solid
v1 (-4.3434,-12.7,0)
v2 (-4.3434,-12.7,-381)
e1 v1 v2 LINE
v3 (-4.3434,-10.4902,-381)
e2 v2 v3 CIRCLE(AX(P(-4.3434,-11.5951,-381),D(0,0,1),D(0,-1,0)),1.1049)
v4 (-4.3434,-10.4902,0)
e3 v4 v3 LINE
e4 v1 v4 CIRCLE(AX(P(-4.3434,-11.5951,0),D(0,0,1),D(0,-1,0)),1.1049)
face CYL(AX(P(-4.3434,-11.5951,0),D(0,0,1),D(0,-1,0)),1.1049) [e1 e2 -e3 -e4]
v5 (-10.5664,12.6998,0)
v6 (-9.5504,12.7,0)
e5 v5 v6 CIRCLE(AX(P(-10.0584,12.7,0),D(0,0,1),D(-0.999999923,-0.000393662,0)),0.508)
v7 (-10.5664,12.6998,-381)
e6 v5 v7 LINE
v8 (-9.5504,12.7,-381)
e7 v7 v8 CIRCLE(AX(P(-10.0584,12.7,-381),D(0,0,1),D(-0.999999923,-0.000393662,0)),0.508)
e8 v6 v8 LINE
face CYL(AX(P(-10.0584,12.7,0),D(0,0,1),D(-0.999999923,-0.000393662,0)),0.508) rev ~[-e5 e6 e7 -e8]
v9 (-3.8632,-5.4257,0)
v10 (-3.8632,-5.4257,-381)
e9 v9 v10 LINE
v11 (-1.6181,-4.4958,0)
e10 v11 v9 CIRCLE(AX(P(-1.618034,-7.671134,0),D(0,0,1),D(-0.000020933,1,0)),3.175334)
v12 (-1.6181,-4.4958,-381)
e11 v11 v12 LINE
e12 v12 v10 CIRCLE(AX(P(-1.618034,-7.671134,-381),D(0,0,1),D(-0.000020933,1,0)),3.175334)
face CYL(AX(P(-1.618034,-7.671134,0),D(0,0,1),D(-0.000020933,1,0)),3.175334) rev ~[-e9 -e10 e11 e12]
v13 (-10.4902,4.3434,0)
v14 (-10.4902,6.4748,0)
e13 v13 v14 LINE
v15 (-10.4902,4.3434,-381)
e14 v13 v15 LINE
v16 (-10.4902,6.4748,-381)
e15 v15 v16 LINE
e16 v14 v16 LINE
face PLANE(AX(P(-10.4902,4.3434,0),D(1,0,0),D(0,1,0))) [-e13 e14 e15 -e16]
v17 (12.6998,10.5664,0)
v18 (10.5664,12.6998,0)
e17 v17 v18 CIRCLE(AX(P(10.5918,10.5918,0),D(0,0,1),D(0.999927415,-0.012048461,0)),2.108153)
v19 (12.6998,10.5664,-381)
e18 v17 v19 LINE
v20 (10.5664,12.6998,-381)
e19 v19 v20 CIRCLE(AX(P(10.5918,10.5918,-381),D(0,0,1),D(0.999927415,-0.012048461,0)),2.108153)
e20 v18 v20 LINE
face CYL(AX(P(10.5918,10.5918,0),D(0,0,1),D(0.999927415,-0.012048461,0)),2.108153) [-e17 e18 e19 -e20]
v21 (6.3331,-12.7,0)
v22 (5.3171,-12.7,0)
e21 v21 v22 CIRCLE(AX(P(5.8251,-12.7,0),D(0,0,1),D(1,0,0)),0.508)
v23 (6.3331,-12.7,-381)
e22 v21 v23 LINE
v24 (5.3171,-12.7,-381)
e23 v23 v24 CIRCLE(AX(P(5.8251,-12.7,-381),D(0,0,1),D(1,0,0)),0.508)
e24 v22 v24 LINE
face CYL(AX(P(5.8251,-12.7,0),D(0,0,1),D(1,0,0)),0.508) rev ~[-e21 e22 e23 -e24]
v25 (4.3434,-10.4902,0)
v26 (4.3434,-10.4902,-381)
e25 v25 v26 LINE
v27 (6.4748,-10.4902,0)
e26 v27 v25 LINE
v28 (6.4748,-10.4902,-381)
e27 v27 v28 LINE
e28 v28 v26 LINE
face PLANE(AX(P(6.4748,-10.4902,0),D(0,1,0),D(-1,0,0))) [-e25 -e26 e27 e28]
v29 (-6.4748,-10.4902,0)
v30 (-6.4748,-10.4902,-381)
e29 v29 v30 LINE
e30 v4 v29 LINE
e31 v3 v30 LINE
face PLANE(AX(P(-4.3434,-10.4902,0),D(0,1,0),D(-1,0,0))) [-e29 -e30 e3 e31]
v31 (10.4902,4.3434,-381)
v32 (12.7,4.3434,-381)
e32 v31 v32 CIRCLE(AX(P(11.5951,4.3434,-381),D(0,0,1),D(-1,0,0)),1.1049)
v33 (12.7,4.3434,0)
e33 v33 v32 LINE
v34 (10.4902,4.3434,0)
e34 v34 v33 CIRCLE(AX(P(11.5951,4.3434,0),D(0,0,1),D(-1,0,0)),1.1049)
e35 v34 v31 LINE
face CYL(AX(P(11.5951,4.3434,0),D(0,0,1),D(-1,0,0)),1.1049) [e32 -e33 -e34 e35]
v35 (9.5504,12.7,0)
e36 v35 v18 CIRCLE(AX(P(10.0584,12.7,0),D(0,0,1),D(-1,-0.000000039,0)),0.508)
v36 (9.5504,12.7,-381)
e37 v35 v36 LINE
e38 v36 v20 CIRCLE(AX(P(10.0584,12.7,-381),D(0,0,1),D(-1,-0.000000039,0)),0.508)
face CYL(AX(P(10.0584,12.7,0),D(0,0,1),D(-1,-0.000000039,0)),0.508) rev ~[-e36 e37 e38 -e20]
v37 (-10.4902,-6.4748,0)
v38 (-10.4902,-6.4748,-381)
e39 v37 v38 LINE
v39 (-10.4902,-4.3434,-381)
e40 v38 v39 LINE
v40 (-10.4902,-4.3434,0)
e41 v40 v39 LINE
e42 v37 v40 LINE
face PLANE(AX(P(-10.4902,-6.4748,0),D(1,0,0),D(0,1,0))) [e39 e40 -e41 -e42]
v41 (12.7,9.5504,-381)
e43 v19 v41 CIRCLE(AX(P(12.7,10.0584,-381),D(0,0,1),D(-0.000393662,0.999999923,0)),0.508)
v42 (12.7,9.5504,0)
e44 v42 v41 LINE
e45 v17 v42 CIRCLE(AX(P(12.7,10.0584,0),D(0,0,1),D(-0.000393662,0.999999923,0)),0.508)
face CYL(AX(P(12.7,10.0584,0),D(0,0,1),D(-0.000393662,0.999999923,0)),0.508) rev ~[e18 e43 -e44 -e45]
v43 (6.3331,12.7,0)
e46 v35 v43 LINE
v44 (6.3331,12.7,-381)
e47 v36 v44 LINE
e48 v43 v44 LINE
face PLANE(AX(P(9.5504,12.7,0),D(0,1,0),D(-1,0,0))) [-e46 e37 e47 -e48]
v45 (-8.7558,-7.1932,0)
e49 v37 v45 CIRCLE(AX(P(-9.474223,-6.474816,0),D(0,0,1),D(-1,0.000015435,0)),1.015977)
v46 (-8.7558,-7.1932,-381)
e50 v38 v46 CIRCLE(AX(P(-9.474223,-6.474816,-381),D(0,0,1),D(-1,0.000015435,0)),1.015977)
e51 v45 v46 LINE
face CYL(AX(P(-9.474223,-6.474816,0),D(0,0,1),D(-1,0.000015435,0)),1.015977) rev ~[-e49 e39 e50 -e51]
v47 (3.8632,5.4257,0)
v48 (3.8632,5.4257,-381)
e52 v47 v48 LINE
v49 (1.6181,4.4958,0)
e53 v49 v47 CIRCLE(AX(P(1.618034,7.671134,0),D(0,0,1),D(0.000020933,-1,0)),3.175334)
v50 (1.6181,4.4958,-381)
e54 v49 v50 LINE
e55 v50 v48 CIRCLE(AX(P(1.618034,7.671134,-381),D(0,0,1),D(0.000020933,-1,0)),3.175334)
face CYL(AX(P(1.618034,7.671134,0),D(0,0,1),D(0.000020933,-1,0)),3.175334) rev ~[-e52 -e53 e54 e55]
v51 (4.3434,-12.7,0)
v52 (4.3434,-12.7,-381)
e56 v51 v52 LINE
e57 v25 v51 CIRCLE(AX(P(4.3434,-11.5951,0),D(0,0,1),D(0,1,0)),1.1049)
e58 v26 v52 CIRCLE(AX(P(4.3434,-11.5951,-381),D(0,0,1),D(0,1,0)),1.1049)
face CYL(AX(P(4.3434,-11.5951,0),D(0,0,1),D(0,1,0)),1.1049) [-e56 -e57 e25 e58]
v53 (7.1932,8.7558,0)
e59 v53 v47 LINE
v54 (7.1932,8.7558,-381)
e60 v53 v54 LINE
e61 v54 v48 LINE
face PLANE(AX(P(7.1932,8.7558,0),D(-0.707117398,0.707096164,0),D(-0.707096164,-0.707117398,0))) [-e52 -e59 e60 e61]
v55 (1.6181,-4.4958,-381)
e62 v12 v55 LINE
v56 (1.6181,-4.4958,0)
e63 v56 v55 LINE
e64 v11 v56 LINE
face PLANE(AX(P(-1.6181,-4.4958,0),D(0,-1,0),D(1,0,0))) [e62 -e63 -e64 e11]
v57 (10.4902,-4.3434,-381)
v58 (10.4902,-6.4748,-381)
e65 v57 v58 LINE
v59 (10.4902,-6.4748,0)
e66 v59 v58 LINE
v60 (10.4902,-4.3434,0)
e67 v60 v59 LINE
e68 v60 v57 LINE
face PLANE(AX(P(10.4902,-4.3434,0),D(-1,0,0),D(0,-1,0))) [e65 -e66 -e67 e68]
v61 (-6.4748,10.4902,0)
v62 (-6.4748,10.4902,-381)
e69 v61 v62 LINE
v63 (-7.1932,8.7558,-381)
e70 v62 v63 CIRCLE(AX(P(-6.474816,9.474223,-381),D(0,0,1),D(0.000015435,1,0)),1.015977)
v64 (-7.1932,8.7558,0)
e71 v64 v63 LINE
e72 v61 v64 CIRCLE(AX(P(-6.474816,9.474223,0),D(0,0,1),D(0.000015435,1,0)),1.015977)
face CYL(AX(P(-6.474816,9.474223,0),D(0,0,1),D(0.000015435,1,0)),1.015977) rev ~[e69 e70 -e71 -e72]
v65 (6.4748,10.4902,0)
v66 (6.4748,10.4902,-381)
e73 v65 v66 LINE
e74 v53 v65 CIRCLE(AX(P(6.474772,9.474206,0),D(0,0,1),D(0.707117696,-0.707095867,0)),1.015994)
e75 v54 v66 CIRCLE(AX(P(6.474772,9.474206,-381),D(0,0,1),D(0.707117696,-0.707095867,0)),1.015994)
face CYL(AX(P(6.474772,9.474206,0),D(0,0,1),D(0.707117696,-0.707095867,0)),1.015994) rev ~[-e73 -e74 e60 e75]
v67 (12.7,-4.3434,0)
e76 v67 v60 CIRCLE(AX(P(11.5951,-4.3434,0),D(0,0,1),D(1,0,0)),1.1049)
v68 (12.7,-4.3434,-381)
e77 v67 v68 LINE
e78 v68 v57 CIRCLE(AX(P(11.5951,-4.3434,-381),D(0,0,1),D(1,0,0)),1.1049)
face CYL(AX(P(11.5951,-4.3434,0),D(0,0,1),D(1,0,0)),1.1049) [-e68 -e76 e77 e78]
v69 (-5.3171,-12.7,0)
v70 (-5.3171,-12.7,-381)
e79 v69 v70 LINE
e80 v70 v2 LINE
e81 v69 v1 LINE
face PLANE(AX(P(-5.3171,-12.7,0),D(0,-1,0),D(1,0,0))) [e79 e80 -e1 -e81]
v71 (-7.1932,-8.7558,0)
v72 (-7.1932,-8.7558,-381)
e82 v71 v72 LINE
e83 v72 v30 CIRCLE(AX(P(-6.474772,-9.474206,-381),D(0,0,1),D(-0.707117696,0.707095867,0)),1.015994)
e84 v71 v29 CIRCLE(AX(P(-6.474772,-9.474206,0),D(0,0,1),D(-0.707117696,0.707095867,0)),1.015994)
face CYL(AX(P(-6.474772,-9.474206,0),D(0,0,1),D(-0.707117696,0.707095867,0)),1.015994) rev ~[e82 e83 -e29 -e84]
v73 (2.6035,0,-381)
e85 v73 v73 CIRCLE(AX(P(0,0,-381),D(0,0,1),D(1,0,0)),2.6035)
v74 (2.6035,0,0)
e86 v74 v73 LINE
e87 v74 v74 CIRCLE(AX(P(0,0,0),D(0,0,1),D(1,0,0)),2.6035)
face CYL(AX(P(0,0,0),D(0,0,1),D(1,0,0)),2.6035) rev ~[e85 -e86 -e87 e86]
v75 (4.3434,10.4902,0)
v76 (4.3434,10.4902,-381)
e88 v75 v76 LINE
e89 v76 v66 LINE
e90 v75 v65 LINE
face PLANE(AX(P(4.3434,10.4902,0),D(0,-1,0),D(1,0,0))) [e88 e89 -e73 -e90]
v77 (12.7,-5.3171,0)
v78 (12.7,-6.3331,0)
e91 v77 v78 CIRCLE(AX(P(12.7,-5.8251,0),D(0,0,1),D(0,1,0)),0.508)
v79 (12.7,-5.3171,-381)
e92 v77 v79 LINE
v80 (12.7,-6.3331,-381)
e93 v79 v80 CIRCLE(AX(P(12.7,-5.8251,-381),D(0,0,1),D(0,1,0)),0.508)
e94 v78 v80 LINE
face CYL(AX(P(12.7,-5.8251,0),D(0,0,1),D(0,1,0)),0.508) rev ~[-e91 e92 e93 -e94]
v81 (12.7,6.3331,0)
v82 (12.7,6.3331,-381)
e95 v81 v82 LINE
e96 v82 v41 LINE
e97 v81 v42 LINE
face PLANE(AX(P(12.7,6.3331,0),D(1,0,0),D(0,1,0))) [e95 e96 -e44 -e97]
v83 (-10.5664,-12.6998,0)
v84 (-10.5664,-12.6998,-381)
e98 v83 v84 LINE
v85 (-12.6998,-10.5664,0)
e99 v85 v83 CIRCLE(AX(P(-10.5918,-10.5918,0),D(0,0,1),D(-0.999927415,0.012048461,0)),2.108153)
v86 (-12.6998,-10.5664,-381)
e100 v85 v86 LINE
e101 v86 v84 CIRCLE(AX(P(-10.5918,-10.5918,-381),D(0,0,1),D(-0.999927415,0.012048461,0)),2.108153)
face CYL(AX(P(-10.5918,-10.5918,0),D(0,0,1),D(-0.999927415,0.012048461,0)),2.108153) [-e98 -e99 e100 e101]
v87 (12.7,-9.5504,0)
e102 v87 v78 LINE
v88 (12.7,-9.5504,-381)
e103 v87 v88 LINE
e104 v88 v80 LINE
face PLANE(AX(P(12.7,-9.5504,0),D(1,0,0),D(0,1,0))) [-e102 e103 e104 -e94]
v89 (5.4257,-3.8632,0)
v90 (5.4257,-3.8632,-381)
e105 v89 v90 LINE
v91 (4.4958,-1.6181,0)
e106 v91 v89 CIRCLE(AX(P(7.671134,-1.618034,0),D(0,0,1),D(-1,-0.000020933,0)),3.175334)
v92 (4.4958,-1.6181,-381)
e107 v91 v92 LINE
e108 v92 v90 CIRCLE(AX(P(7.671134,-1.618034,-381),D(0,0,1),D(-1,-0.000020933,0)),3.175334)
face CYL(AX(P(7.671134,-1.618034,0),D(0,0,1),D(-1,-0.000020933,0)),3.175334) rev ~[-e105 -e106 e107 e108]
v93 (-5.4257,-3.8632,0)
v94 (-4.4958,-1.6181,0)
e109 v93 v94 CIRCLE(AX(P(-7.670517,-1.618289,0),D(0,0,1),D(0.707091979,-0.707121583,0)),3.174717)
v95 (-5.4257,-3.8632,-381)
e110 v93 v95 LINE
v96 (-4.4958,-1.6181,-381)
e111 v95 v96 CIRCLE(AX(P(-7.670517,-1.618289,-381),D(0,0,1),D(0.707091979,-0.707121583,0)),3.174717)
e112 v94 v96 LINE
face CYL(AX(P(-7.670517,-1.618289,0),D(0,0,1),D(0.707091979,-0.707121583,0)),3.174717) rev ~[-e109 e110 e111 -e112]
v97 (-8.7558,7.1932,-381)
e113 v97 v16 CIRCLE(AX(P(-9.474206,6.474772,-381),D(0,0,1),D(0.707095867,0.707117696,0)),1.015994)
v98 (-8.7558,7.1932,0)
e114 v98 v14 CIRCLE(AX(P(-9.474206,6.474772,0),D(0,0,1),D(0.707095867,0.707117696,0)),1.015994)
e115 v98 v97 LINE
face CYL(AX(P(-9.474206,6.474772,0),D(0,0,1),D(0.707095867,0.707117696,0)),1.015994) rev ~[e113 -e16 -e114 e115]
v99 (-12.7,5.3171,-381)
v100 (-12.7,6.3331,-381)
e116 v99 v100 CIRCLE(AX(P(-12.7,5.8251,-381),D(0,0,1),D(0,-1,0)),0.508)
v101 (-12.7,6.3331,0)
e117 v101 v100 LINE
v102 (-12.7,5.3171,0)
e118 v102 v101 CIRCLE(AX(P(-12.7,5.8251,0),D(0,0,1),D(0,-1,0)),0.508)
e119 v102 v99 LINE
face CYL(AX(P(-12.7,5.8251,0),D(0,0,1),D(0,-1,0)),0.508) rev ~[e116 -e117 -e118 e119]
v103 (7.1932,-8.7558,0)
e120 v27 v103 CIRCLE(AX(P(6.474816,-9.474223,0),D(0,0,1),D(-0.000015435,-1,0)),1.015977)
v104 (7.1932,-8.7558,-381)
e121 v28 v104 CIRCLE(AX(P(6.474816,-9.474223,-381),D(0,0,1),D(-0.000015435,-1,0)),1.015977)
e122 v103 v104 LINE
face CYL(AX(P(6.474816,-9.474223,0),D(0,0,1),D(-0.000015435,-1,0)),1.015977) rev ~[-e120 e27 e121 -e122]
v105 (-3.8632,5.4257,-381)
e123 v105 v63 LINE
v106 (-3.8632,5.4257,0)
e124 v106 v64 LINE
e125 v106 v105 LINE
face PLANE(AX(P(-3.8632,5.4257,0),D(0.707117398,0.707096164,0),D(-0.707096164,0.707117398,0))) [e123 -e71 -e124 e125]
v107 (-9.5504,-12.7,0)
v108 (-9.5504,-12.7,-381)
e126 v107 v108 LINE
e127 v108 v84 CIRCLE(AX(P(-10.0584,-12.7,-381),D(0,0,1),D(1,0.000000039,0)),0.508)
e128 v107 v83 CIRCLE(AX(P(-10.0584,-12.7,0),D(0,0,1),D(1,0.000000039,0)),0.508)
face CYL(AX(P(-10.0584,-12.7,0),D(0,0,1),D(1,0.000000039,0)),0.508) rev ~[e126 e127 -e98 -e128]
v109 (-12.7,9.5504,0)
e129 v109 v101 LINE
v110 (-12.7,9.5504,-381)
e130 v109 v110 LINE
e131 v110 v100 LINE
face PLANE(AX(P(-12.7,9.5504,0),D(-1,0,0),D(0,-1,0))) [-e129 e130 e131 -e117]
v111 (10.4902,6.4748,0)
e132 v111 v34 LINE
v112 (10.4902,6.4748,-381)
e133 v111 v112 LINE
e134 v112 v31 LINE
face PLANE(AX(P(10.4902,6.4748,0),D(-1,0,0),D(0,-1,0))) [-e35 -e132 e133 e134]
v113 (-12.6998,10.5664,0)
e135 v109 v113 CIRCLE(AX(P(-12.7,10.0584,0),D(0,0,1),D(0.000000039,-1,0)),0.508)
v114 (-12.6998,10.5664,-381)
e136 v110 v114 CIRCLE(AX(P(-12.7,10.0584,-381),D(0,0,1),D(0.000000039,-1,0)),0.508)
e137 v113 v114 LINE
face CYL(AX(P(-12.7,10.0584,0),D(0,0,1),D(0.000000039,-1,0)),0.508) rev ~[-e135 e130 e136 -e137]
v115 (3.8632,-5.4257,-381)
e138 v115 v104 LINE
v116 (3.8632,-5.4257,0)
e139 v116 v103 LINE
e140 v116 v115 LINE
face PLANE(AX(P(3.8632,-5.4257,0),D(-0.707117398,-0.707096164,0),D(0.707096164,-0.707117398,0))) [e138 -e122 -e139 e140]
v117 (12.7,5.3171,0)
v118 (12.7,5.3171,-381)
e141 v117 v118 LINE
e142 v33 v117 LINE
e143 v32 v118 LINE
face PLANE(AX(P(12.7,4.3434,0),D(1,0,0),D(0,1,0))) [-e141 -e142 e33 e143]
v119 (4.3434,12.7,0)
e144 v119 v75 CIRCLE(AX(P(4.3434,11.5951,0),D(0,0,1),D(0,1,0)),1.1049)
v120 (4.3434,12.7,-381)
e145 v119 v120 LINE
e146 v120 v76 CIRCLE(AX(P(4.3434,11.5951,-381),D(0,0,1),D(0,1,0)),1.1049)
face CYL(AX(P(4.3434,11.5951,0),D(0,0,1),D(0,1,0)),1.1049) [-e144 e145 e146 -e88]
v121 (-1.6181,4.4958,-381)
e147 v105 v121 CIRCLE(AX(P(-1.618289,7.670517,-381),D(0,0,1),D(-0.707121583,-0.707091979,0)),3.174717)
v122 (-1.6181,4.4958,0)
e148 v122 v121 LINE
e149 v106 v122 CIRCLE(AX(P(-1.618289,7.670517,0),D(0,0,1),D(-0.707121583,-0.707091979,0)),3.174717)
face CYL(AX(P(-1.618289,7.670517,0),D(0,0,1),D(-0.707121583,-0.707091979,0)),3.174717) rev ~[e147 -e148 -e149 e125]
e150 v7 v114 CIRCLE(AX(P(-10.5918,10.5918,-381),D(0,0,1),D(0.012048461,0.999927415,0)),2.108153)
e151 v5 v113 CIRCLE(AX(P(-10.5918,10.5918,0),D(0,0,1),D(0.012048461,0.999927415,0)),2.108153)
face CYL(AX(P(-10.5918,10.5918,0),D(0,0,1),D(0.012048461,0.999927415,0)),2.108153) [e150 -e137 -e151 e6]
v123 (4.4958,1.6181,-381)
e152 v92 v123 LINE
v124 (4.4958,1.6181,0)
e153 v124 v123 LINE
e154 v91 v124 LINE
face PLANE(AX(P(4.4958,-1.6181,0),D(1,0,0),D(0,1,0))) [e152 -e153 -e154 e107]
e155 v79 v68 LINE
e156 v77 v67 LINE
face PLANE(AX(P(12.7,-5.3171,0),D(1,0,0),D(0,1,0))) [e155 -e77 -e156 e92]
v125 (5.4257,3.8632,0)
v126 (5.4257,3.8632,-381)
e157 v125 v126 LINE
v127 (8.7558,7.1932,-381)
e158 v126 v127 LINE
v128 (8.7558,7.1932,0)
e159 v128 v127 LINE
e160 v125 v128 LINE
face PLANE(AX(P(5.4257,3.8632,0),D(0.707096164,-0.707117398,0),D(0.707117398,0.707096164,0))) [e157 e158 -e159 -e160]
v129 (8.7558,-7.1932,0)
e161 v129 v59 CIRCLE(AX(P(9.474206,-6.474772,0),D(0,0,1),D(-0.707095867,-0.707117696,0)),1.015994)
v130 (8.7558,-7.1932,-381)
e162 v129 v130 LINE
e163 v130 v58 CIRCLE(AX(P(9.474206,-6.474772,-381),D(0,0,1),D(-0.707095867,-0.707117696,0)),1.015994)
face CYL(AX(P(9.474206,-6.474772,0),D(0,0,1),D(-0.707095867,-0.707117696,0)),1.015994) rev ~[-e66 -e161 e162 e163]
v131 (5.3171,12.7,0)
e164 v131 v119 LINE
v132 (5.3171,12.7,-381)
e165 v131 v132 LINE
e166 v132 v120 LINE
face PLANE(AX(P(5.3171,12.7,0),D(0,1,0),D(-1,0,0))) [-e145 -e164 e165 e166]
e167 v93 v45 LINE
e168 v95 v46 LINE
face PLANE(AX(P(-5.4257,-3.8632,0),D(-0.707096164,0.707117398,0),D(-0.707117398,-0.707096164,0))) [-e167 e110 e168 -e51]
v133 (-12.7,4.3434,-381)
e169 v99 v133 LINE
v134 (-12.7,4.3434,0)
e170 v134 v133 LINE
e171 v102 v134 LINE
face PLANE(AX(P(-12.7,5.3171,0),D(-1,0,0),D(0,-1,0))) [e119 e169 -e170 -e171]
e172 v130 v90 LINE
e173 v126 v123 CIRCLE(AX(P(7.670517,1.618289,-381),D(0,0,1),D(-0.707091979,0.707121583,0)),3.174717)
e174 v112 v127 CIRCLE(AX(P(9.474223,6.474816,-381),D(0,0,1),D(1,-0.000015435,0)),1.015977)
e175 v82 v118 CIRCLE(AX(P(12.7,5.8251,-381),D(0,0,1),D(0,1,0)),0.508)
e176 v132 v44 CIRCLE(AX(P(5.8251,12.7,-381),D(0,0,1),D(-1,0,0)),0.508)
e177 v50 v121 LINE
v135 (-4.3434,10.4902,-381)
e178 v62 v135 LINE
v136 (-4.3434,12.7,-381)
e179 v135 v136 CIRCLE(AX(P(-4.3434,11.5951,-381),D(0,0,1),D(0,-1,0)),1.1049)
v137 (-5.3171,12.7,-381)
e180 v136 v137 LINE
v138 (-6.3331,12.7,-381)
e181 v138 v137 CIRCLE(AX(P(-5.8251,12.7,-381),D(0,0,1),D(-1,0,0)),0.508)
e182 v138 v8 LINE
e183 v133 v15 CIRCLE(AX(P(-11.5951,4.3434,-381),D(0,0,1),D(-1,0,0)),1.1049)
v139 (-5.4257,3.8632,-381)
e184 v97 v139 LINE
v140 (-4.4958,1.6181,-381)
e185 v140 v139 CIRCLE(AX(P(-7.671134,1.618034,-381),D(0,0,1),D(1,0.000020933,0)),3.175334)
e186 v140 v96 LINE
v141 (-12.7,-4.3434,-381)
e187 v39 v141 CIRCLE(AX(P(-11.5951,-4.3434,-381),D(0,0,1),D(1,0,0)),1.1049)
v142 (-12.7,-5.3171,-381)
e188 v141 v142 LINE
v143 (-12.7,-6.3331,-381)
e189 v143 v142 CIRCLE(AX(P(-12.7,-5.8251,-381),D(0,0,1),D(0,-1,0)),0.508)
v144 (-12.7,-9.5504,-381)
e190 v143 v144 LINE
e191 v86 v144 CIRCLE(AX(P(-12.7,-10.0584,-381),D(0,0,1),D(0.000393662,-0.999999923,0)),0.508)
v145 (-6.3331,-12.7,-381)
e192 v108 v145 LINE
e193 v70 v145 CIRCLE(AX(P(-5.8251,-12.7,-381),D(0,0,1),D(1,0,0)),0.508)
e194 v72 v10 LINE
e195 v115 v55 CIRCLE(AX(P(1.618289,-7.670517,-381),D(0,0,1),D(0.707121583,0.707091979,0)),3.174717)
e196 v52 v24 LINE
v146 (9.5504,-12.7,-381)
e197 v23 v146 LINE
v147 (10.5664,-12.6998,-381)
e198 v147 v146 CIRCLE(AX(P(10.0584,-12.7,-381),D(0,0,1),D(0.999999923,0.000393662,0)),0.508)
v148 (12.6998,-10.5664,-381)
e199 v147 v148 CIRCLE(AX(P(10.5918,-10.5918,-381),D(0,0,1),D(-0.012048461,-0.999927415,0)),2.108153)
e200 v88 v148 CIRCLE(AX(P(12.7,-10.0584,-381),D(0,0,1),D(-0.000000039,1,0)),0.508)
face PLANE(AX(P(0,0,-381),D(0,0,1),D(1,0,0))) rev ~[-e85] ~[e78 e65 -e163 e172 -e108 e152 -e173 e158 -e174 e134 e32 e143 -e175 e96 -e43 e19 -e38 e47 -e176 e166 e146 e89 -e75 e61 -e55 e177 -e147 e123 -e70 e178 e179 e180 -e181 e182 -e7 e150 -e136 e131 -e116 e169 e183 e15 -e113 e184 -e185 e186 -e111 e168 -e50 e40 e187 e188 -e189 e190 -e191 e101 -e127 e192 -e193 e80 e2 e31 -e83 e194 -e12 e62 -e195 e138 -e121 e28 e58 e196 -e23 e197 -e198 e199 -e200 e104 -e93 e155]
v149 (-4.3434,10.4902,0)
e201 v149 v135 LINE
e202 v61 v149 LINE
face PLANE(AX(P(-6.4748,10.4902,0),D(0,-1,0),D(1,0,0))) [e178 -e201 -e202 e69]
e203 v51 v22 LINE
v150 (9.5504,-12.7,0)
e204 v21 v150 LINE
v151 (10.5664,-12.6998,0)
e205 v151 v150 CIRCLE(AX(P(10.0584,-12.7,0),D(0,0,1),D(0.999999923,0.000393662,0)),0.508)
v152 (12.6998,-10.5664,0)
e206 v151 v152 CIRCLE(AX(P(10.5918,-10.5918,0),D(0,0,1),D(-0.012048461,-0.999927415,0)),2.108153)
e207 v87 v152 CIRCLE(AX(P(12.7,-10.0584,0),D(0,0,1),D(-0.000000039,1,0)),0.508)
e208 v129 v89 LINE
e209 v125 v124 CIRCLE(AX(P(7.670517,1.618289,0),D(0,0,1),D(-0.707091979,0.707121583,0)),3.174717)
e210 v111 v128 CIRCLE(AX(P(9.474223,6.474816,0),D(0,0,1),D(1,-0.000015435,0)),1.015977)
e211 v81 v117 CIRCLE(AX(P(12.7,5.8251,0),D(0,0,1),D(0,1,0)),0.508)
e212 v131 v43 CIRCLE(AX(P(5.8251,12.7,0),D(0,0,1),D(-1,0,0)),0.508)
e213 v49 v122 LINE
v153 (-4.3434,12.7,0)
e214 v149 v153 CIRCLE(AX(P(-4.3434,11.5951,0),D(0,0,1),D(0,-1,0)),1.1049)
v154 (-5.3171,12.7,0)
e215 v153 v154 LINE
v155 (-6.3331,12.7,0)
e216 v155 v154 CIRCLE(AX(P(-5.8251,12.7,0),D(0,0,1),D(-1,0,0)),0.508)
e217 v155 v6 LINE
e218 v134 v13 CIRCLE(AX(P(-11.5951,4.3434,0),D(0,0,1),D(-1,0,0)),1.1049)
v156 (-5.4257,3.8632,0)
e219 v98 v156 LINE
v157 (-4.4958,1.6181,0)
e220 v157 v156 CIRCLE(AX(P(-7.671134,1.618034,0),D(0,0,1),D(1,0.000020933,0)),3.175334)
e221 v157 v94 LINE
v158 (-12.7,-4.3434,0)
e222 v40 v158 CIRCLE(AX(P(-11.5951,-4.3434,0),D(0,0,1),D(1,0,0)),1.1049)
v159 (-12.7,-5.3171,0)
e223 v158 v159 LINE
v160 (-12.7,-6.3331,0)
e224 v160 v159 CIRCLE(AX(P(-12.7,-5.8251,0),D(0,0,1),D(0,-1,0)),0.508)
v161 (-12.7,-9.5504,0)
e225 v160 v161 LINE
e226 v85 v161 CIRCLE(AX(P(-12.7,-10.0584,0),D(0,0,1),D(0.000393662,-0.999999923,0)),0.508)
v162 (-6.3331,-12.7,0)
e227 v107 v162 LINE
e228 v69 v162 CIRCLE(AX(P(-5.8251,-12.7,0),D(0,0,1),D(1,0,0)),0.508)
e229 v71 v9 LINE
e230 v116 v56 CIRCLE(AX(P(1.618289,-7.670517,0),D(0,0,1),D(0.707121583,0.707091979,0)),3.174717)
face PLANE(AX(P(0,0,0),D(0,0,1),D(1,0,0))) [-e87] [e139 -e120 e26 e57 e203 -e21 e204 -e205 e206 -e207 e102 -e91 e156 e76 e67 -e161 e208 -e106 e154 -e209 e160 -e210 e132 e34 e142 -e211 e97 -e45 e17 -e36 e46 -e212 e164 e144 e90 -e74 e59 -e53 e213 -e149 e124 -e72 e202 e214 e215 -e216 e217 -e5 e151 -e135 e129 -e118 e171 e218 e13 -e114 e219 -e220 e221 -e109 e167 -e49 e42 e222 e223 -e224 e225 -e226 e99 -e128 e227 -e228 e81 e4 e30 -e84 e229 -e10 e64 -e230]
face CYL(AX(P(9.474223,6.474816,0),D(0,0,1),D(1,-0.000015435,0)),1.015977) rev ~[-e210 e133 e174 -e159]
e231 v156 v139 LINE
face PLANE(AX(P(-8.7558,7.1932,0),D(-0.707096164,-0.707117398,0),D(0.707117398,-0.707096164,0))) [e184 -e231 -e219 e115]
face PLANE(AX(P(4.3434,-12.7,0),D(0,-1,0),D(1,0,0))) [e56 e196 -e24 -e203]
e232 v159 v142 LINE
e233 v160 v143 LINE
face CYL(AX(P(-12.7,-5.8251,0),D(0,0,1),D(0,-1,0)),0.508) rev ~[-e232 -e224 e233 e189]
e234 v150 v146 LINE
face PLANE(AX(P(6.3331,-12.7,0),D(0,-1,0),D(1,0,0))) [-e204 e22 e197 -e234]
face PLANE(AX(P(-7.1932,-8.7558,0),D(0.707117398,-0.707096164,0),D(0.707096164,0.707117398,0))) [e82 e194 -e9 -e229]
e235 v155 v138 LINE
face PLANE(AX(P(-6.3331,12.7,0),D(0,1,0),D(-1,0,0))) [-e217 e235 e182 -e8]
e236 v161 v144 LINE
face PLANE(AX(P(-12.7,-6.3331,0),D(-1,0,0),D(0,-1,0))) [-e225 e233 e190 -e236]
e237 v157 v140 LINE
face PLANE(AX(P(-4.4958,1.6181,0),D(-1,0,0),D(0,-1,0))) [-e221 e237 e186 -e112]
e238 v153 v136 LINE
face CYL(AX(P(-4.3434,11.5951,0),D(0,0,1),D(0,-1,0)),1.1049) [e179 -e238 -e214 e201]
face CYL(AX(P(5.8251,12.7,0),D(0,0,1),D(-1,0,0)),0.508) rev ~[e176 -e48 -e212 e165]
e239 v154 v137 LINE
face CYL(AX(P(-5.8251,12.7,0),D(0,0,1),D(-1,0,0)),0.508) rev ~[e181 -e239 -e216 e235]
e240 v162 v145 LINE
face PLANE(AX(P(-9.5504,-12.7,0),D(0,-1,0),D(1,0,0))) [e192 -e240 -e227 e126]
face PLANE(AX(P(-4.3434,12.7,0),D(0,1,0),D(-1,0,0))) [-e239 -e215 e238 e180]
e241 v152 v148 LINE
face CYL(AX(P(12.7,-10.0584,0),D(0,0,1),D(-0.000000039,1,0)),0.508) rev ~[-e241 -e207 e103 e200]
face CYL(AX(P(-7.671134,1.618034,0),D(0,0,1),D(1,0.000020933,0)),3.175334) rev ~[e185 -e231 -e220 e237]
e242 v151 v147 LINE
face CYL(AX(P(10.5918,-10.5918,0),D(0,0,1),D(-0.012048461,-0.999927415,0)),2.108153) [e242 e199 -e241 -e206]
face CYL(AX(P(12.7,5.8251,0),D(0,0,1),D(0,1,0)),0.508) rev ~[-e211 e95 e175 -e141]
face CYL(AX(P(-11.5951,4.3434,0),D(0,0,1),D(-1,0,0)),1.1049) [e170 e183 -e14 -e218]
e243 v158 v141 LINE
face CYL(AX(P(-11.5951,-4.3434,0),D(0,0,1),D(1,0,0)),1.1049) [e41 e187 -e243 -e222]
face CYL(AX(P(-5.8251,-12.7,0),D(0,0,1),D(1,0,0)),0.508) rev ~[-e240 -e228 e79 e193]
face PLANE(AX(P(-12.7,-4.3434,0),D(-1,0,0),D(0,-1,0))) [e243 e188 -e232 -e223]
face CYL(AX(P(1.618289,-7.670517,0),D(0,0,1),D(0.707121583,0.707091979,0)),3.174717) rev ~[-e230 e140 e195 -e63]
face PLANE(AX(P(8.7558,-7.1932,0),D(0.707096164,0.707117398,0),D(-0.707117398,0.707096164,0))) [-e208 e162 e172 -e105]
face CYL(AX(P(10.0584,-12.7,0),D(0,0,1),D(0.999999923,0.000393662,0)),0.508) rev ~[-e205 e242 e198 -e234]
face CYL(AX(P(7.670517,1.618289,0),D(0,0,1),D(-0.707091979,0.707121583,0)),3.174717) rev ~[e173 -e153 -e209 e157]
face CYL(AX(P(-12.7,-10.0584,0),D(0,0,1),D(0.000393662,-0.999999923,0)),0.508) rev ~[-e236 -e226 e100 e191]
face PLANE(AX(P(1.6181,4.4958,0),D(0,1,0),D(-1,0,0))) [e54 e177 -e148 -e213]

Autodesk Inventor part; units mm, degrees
sketch "Sketch_1" plane through (0, 0, 0) normal (0, 0, 1) x (1, 0, 0)
  arc A0 (-12.6998, -10.5664) -> (-10.5664, -12.6998) centre (-10.5918, -10.5918) ccw
  arc A1 (-9.5504, -12.7) -> (-10.5664, -12.6998) centre (-10.0584, -12.7) ccw
  line L0 (-9.5504, -12.7) -> (-6.3331, -12.7)
  arc A2 (-5.3171, -12.7) -> (-6.3331, -12.7) centre (-5.8251, -12.7) ccw
  line L1 (-5.3171, -12.7) -> (-4.3434, -12.7)
  arc A3 (-4.3434, -12.7) -> (-4.3434, -10.4902) centre (-4.3434, -11.5951) ccw
  line L2 (-4.3434, -10.4902) -> (-6.4748, -10.4902)
  arc A4 (-7.1932, -8.7558) -> (-6.4748, -10.4902) centre (-6.4748, -9.4742) ccw
  line L3 (-7.1932, -8.7558) -> (-3.8632, -5.4257)
  arc A5 (-1.6181, -4.4958) -> (-3.8632, -5.4257) centre (-1.6181, -7.6708) ccw
  line L4 (-1.6181, -4.4958) -> (1.6181, -4.4958)
  arc A6 (3.8632, -5.4257) -> (1.6181, -4.4958) centre (1.6181, -7.6708) ccw
  line L5 (3.8632, -5.4257) -> (7.1932, -8.7558)
  arc A7 (6.4748, -10.4902) -> (7.1932, -8.7558) centre (6.4748, -9.4742) ccw
  line L6 (6.4748, -10.4902) -> (4.3434, -10.4902)
  arc A8 (4.3434, -10.4902) -> (4.3434, -12.7) centre (4.3434, -11.5951) ccw
  line L7 (4.3434, -12.7) -> (5.3171, -12.7)
  arc A9 (6.3331, -12.7) -> (5.3171, -12.7) centre (5.8251, -12.7) ccw
  line L8 (6.3331, -12.7) -> (9.5504, -12.7)
  arc A10 (10.5664, -12.6998) -> (9.5504, -12.7) centre (10.0584, -12.7) ccw
  arc A11 (10.5664, -12.6998) -> (12.6998, -10.5664) centre (10.5918, -10.5918) ccw
  arc A12 (12.7, -9.5504) -> (12.6998, -10.5664) centre (12.7, -10.0584) ccw
  line L9 (12.7, -9.5504) -> (12.7, -6.3331)
  arc A13 (12.7, -5.3171) -> (12.7, -6.3331) centre (12.7, -5.8251) ccw
  line L10 (12.7, -5.3171) -> (12.7, -4.3434)
  arc A14 (12.7, -4.3434) -> (10.4902, -4.3434) centre (11.5951, -4.3434) ccw
  line L11 (10.4902, -4.3434) -> (10.4902, -6.4748)
  arc A15 (8.7558, -7.1932) -> (10.4902, -6.4748) centre (9.4742, -6.4748) ccw
  line L12 (8.7558, -7.1932) -> (5.4257, -3.8632)
  arc A16 (4.4958, -1.6181) -> (5.4257, -3.8632) centre (7.6708, -1.6181) ccw
  line L13 (4.4958, -1.6181) -> (4.4958, 1.6181)
  arc A17 (5.4257, 3.8632) -> (4.4958, 1.6181) centre (7.6708, 1.6181) ccw
  line L14 (5.4257, 3.8632) -> (8.7558, 7.1932)
  arc A18 (10.4902, 6.4748) -> (8.7558, 7.1932) centre (9.4742, 6.4748) ccw
  line L15 (10.4902, 6.4748) -> (10.4902, 4.3434)
  arc A19 (10.4902, 4.3434) -> (12.7, 4.3434) centre (11.5951, 4.3434) ccw
  line L16 (12.7, 4.3434) -> (12.7, 5.3171)
  arc A20 (12.7, 6.3331) -> (12.7, 5.3171) centre (12.7, 5.8251) ccw
  line L17 (12.7, 6.3331) -> (12.7, 9.5504)
  arc A21 (12.6998, 10.5664) -> (12.7, 9.5504) centre (12.7, 10.0584) ccw
  arc A22 (12.6998, 10.5664) -> (10.5664, 12.6998) centre (10.5918, 10.5918) ccw
  arc A23 (9.5504, 12.7) -> (10.5664, 12.6998) centre (10.0584, 12.7) ccw
  line L18 (9.5504, 12.7) -> (6.3331, 12.7)
  arc A24 (5.3171, 12.7) -> (6.3331, 12.7) centre (5.8251, 12.7) ccw
  line L19 (5.3171, 12.7) -> (4.3434, 12.7)
  arc A25 (4.3434, 12.7) -> (4.3434, 10.4902) centre (4.3434, 11.5951) ccw
  line L20 (4.3434, 10.4902) -> (6.4748, 10.4902)
  arc A26 (7.1932, 8.7558) -> (6.4748, 10.4902) centre (6.4748, 9.4742) ccw
  line L21 (7.1932, 8.7558) -> (3.8632, 5.4257)
  arc A27 (1.6181, 4.4958) -> (3.8632, 5.4257) centre (1.6181, 7.6708) ccw
  line L22 (1.6181, 4.4958) -> (-1.6181, 4.4958)
  arc A28 (-3.8632, 5.4257) -> (-1.6181, 4.4958) centre (-1.6181, 7.6708) ccw
  line L23 (-3.8632, 5.4257) -> (-7.1932, 8.7558)
  arc A29 (-6.4748, 10.4902) -> (-7.1932, 8.7558) centre (-6.4748, 9.4742) ccw
  line L24 (-6.4748, 10.4902) -> (-4.3434, 10.4902)
  arc A30 (-4.3434, 10.4902) -> (-4.3434, 12.7) centre (-4.3434, 11.5951) ccw
  line L25 (-4.3434, 12.7) -> (-5.3171, 12.7)
  arc A31 (-6.3331, 12.7) -> (-5.3171, 12.7) centre (-5.8251, 12.7) ccw
  line L26 (-6.3331, 12.7) -> (-9.5504, 12.7)
  arc A32 (-10.5664, 12.6998) -> (-9.5504, 12.7) centre (-10.0584, 12.7) ccw
  arc A33 (-10.5664, 12.6998) -> (-12.6998, 10.5664) centre (-10.5918, 10.5918) ccw
  arc A34 (-12.7, 9.5504) -> (-12.6998, 10.5664) centre (-12.7, 10.0584) ccw
  line L27 (-12.7, 9.5504) -> (-12.7, 6.3331)
  arc A35 (-12.7, 5.3171) -> (-12.7, 6.3331) centre (-12.7, 5.8251) ccw
  line L28 (-12.7, 5.3171) -> (-12.7, 4.3434)
  arc A36 (-12.7, 4.3434) -> (-10.4902, 4.3434) centre (-11.5951, 4.3434) ccw
  line L29 (-10.4902, 4.3434) -> (-10.4902, 6.4748)
  arc A37 (-8.7558, 7.1932) -> (-10.4902, 6.4748) centre (-9.4742, 6.4748) ccw
  line L30 (-8.7558, 7.1932) -> (-5.4257, 3.8632)
  arc A38 (-4.4958, 1.6181) -> (-5.4257, 3.8632) centre (-7.6708, 1.6181) ccw
  line L31 (-4.4958, 1.6181) -> (-4.4958, -1.6181)
  arc A39 (-5.4257, -3.8632) -> (-4.4958, -1.6181) centre (-7.6708, -1.6181) ccw
  line L32 (-5.4257, -3.8632) -> (-8.7558, -7.1932)
  arc A40 (-10.4902, -6.4748) -> (-8.7558, -7.1932) centre (-9.4742, -6.4748) ccw
  line L33 (-10.4902, -6.4748) -> (-10.4902, -4.3434)
  arc A41 (-10.4902, -4.3434) -> (-12.7, -4.3434) centre (-11.5951, -4.3434) ccw
  line L34 (-12.7, -4.3434) -> (-12.7, -5.3171)
  arc A42 (-12.7, -6.3331) -> (-12.7, -5.3171) centre (-12.7, -5.8251) ccw
  line L35 (-12.7, -6.3331) -> (-12.7, -9.5504)
  arc A43 (-12.6998, -10.5664) -> (-12.7, -9.5504) centre (-12.7, -10.0584) ccw
  circle A44 centre (0, 0) radius 2.6035
extrude "Extrusion1" add sketch "Sketch_1" against normal blind 381
ref_plane "b1_XY" through (-12.7, 0, -190.5) normal (1, 0, 0) x (0, 0, -1)
ref_plane "b1_YZ" through (-12.7, 0, -190.5) normal (0, 0, -1) x (0, 1, 0)
ref_plane "b1_ZX" through (-12.7, 0, -190.5) normal (0, 1, 0) x (1, 0, 0)
ref_plane "b2_XY" through (12.7, 0, -190.5) normal (1, 0, 0) x (0, 0, -1)
ref_plane "b2_YZ" through (12.7, 0, -190.5) normal (0, 0, -1) x (0, 1, 0)
ref_plane "b2_ZX" through (12.7, 0, -190.5) normal (0, 1, 0) x (1, 0, 0)
ref_plane "profile1010_XY" through (0, 0, -190.5) normal (0, 0, 1) x (1, 0, 0)
ref_plane "profile1010_YZ" through (0, 0, -190.5) normal (1, 0, 0) x (0, 1, 0)
ref_plane "profile1010_ZX" through (0, 0, -190.5) normal (0, 1, 0) x (0, 0, 1)
properties part number "1010-15-CL"
